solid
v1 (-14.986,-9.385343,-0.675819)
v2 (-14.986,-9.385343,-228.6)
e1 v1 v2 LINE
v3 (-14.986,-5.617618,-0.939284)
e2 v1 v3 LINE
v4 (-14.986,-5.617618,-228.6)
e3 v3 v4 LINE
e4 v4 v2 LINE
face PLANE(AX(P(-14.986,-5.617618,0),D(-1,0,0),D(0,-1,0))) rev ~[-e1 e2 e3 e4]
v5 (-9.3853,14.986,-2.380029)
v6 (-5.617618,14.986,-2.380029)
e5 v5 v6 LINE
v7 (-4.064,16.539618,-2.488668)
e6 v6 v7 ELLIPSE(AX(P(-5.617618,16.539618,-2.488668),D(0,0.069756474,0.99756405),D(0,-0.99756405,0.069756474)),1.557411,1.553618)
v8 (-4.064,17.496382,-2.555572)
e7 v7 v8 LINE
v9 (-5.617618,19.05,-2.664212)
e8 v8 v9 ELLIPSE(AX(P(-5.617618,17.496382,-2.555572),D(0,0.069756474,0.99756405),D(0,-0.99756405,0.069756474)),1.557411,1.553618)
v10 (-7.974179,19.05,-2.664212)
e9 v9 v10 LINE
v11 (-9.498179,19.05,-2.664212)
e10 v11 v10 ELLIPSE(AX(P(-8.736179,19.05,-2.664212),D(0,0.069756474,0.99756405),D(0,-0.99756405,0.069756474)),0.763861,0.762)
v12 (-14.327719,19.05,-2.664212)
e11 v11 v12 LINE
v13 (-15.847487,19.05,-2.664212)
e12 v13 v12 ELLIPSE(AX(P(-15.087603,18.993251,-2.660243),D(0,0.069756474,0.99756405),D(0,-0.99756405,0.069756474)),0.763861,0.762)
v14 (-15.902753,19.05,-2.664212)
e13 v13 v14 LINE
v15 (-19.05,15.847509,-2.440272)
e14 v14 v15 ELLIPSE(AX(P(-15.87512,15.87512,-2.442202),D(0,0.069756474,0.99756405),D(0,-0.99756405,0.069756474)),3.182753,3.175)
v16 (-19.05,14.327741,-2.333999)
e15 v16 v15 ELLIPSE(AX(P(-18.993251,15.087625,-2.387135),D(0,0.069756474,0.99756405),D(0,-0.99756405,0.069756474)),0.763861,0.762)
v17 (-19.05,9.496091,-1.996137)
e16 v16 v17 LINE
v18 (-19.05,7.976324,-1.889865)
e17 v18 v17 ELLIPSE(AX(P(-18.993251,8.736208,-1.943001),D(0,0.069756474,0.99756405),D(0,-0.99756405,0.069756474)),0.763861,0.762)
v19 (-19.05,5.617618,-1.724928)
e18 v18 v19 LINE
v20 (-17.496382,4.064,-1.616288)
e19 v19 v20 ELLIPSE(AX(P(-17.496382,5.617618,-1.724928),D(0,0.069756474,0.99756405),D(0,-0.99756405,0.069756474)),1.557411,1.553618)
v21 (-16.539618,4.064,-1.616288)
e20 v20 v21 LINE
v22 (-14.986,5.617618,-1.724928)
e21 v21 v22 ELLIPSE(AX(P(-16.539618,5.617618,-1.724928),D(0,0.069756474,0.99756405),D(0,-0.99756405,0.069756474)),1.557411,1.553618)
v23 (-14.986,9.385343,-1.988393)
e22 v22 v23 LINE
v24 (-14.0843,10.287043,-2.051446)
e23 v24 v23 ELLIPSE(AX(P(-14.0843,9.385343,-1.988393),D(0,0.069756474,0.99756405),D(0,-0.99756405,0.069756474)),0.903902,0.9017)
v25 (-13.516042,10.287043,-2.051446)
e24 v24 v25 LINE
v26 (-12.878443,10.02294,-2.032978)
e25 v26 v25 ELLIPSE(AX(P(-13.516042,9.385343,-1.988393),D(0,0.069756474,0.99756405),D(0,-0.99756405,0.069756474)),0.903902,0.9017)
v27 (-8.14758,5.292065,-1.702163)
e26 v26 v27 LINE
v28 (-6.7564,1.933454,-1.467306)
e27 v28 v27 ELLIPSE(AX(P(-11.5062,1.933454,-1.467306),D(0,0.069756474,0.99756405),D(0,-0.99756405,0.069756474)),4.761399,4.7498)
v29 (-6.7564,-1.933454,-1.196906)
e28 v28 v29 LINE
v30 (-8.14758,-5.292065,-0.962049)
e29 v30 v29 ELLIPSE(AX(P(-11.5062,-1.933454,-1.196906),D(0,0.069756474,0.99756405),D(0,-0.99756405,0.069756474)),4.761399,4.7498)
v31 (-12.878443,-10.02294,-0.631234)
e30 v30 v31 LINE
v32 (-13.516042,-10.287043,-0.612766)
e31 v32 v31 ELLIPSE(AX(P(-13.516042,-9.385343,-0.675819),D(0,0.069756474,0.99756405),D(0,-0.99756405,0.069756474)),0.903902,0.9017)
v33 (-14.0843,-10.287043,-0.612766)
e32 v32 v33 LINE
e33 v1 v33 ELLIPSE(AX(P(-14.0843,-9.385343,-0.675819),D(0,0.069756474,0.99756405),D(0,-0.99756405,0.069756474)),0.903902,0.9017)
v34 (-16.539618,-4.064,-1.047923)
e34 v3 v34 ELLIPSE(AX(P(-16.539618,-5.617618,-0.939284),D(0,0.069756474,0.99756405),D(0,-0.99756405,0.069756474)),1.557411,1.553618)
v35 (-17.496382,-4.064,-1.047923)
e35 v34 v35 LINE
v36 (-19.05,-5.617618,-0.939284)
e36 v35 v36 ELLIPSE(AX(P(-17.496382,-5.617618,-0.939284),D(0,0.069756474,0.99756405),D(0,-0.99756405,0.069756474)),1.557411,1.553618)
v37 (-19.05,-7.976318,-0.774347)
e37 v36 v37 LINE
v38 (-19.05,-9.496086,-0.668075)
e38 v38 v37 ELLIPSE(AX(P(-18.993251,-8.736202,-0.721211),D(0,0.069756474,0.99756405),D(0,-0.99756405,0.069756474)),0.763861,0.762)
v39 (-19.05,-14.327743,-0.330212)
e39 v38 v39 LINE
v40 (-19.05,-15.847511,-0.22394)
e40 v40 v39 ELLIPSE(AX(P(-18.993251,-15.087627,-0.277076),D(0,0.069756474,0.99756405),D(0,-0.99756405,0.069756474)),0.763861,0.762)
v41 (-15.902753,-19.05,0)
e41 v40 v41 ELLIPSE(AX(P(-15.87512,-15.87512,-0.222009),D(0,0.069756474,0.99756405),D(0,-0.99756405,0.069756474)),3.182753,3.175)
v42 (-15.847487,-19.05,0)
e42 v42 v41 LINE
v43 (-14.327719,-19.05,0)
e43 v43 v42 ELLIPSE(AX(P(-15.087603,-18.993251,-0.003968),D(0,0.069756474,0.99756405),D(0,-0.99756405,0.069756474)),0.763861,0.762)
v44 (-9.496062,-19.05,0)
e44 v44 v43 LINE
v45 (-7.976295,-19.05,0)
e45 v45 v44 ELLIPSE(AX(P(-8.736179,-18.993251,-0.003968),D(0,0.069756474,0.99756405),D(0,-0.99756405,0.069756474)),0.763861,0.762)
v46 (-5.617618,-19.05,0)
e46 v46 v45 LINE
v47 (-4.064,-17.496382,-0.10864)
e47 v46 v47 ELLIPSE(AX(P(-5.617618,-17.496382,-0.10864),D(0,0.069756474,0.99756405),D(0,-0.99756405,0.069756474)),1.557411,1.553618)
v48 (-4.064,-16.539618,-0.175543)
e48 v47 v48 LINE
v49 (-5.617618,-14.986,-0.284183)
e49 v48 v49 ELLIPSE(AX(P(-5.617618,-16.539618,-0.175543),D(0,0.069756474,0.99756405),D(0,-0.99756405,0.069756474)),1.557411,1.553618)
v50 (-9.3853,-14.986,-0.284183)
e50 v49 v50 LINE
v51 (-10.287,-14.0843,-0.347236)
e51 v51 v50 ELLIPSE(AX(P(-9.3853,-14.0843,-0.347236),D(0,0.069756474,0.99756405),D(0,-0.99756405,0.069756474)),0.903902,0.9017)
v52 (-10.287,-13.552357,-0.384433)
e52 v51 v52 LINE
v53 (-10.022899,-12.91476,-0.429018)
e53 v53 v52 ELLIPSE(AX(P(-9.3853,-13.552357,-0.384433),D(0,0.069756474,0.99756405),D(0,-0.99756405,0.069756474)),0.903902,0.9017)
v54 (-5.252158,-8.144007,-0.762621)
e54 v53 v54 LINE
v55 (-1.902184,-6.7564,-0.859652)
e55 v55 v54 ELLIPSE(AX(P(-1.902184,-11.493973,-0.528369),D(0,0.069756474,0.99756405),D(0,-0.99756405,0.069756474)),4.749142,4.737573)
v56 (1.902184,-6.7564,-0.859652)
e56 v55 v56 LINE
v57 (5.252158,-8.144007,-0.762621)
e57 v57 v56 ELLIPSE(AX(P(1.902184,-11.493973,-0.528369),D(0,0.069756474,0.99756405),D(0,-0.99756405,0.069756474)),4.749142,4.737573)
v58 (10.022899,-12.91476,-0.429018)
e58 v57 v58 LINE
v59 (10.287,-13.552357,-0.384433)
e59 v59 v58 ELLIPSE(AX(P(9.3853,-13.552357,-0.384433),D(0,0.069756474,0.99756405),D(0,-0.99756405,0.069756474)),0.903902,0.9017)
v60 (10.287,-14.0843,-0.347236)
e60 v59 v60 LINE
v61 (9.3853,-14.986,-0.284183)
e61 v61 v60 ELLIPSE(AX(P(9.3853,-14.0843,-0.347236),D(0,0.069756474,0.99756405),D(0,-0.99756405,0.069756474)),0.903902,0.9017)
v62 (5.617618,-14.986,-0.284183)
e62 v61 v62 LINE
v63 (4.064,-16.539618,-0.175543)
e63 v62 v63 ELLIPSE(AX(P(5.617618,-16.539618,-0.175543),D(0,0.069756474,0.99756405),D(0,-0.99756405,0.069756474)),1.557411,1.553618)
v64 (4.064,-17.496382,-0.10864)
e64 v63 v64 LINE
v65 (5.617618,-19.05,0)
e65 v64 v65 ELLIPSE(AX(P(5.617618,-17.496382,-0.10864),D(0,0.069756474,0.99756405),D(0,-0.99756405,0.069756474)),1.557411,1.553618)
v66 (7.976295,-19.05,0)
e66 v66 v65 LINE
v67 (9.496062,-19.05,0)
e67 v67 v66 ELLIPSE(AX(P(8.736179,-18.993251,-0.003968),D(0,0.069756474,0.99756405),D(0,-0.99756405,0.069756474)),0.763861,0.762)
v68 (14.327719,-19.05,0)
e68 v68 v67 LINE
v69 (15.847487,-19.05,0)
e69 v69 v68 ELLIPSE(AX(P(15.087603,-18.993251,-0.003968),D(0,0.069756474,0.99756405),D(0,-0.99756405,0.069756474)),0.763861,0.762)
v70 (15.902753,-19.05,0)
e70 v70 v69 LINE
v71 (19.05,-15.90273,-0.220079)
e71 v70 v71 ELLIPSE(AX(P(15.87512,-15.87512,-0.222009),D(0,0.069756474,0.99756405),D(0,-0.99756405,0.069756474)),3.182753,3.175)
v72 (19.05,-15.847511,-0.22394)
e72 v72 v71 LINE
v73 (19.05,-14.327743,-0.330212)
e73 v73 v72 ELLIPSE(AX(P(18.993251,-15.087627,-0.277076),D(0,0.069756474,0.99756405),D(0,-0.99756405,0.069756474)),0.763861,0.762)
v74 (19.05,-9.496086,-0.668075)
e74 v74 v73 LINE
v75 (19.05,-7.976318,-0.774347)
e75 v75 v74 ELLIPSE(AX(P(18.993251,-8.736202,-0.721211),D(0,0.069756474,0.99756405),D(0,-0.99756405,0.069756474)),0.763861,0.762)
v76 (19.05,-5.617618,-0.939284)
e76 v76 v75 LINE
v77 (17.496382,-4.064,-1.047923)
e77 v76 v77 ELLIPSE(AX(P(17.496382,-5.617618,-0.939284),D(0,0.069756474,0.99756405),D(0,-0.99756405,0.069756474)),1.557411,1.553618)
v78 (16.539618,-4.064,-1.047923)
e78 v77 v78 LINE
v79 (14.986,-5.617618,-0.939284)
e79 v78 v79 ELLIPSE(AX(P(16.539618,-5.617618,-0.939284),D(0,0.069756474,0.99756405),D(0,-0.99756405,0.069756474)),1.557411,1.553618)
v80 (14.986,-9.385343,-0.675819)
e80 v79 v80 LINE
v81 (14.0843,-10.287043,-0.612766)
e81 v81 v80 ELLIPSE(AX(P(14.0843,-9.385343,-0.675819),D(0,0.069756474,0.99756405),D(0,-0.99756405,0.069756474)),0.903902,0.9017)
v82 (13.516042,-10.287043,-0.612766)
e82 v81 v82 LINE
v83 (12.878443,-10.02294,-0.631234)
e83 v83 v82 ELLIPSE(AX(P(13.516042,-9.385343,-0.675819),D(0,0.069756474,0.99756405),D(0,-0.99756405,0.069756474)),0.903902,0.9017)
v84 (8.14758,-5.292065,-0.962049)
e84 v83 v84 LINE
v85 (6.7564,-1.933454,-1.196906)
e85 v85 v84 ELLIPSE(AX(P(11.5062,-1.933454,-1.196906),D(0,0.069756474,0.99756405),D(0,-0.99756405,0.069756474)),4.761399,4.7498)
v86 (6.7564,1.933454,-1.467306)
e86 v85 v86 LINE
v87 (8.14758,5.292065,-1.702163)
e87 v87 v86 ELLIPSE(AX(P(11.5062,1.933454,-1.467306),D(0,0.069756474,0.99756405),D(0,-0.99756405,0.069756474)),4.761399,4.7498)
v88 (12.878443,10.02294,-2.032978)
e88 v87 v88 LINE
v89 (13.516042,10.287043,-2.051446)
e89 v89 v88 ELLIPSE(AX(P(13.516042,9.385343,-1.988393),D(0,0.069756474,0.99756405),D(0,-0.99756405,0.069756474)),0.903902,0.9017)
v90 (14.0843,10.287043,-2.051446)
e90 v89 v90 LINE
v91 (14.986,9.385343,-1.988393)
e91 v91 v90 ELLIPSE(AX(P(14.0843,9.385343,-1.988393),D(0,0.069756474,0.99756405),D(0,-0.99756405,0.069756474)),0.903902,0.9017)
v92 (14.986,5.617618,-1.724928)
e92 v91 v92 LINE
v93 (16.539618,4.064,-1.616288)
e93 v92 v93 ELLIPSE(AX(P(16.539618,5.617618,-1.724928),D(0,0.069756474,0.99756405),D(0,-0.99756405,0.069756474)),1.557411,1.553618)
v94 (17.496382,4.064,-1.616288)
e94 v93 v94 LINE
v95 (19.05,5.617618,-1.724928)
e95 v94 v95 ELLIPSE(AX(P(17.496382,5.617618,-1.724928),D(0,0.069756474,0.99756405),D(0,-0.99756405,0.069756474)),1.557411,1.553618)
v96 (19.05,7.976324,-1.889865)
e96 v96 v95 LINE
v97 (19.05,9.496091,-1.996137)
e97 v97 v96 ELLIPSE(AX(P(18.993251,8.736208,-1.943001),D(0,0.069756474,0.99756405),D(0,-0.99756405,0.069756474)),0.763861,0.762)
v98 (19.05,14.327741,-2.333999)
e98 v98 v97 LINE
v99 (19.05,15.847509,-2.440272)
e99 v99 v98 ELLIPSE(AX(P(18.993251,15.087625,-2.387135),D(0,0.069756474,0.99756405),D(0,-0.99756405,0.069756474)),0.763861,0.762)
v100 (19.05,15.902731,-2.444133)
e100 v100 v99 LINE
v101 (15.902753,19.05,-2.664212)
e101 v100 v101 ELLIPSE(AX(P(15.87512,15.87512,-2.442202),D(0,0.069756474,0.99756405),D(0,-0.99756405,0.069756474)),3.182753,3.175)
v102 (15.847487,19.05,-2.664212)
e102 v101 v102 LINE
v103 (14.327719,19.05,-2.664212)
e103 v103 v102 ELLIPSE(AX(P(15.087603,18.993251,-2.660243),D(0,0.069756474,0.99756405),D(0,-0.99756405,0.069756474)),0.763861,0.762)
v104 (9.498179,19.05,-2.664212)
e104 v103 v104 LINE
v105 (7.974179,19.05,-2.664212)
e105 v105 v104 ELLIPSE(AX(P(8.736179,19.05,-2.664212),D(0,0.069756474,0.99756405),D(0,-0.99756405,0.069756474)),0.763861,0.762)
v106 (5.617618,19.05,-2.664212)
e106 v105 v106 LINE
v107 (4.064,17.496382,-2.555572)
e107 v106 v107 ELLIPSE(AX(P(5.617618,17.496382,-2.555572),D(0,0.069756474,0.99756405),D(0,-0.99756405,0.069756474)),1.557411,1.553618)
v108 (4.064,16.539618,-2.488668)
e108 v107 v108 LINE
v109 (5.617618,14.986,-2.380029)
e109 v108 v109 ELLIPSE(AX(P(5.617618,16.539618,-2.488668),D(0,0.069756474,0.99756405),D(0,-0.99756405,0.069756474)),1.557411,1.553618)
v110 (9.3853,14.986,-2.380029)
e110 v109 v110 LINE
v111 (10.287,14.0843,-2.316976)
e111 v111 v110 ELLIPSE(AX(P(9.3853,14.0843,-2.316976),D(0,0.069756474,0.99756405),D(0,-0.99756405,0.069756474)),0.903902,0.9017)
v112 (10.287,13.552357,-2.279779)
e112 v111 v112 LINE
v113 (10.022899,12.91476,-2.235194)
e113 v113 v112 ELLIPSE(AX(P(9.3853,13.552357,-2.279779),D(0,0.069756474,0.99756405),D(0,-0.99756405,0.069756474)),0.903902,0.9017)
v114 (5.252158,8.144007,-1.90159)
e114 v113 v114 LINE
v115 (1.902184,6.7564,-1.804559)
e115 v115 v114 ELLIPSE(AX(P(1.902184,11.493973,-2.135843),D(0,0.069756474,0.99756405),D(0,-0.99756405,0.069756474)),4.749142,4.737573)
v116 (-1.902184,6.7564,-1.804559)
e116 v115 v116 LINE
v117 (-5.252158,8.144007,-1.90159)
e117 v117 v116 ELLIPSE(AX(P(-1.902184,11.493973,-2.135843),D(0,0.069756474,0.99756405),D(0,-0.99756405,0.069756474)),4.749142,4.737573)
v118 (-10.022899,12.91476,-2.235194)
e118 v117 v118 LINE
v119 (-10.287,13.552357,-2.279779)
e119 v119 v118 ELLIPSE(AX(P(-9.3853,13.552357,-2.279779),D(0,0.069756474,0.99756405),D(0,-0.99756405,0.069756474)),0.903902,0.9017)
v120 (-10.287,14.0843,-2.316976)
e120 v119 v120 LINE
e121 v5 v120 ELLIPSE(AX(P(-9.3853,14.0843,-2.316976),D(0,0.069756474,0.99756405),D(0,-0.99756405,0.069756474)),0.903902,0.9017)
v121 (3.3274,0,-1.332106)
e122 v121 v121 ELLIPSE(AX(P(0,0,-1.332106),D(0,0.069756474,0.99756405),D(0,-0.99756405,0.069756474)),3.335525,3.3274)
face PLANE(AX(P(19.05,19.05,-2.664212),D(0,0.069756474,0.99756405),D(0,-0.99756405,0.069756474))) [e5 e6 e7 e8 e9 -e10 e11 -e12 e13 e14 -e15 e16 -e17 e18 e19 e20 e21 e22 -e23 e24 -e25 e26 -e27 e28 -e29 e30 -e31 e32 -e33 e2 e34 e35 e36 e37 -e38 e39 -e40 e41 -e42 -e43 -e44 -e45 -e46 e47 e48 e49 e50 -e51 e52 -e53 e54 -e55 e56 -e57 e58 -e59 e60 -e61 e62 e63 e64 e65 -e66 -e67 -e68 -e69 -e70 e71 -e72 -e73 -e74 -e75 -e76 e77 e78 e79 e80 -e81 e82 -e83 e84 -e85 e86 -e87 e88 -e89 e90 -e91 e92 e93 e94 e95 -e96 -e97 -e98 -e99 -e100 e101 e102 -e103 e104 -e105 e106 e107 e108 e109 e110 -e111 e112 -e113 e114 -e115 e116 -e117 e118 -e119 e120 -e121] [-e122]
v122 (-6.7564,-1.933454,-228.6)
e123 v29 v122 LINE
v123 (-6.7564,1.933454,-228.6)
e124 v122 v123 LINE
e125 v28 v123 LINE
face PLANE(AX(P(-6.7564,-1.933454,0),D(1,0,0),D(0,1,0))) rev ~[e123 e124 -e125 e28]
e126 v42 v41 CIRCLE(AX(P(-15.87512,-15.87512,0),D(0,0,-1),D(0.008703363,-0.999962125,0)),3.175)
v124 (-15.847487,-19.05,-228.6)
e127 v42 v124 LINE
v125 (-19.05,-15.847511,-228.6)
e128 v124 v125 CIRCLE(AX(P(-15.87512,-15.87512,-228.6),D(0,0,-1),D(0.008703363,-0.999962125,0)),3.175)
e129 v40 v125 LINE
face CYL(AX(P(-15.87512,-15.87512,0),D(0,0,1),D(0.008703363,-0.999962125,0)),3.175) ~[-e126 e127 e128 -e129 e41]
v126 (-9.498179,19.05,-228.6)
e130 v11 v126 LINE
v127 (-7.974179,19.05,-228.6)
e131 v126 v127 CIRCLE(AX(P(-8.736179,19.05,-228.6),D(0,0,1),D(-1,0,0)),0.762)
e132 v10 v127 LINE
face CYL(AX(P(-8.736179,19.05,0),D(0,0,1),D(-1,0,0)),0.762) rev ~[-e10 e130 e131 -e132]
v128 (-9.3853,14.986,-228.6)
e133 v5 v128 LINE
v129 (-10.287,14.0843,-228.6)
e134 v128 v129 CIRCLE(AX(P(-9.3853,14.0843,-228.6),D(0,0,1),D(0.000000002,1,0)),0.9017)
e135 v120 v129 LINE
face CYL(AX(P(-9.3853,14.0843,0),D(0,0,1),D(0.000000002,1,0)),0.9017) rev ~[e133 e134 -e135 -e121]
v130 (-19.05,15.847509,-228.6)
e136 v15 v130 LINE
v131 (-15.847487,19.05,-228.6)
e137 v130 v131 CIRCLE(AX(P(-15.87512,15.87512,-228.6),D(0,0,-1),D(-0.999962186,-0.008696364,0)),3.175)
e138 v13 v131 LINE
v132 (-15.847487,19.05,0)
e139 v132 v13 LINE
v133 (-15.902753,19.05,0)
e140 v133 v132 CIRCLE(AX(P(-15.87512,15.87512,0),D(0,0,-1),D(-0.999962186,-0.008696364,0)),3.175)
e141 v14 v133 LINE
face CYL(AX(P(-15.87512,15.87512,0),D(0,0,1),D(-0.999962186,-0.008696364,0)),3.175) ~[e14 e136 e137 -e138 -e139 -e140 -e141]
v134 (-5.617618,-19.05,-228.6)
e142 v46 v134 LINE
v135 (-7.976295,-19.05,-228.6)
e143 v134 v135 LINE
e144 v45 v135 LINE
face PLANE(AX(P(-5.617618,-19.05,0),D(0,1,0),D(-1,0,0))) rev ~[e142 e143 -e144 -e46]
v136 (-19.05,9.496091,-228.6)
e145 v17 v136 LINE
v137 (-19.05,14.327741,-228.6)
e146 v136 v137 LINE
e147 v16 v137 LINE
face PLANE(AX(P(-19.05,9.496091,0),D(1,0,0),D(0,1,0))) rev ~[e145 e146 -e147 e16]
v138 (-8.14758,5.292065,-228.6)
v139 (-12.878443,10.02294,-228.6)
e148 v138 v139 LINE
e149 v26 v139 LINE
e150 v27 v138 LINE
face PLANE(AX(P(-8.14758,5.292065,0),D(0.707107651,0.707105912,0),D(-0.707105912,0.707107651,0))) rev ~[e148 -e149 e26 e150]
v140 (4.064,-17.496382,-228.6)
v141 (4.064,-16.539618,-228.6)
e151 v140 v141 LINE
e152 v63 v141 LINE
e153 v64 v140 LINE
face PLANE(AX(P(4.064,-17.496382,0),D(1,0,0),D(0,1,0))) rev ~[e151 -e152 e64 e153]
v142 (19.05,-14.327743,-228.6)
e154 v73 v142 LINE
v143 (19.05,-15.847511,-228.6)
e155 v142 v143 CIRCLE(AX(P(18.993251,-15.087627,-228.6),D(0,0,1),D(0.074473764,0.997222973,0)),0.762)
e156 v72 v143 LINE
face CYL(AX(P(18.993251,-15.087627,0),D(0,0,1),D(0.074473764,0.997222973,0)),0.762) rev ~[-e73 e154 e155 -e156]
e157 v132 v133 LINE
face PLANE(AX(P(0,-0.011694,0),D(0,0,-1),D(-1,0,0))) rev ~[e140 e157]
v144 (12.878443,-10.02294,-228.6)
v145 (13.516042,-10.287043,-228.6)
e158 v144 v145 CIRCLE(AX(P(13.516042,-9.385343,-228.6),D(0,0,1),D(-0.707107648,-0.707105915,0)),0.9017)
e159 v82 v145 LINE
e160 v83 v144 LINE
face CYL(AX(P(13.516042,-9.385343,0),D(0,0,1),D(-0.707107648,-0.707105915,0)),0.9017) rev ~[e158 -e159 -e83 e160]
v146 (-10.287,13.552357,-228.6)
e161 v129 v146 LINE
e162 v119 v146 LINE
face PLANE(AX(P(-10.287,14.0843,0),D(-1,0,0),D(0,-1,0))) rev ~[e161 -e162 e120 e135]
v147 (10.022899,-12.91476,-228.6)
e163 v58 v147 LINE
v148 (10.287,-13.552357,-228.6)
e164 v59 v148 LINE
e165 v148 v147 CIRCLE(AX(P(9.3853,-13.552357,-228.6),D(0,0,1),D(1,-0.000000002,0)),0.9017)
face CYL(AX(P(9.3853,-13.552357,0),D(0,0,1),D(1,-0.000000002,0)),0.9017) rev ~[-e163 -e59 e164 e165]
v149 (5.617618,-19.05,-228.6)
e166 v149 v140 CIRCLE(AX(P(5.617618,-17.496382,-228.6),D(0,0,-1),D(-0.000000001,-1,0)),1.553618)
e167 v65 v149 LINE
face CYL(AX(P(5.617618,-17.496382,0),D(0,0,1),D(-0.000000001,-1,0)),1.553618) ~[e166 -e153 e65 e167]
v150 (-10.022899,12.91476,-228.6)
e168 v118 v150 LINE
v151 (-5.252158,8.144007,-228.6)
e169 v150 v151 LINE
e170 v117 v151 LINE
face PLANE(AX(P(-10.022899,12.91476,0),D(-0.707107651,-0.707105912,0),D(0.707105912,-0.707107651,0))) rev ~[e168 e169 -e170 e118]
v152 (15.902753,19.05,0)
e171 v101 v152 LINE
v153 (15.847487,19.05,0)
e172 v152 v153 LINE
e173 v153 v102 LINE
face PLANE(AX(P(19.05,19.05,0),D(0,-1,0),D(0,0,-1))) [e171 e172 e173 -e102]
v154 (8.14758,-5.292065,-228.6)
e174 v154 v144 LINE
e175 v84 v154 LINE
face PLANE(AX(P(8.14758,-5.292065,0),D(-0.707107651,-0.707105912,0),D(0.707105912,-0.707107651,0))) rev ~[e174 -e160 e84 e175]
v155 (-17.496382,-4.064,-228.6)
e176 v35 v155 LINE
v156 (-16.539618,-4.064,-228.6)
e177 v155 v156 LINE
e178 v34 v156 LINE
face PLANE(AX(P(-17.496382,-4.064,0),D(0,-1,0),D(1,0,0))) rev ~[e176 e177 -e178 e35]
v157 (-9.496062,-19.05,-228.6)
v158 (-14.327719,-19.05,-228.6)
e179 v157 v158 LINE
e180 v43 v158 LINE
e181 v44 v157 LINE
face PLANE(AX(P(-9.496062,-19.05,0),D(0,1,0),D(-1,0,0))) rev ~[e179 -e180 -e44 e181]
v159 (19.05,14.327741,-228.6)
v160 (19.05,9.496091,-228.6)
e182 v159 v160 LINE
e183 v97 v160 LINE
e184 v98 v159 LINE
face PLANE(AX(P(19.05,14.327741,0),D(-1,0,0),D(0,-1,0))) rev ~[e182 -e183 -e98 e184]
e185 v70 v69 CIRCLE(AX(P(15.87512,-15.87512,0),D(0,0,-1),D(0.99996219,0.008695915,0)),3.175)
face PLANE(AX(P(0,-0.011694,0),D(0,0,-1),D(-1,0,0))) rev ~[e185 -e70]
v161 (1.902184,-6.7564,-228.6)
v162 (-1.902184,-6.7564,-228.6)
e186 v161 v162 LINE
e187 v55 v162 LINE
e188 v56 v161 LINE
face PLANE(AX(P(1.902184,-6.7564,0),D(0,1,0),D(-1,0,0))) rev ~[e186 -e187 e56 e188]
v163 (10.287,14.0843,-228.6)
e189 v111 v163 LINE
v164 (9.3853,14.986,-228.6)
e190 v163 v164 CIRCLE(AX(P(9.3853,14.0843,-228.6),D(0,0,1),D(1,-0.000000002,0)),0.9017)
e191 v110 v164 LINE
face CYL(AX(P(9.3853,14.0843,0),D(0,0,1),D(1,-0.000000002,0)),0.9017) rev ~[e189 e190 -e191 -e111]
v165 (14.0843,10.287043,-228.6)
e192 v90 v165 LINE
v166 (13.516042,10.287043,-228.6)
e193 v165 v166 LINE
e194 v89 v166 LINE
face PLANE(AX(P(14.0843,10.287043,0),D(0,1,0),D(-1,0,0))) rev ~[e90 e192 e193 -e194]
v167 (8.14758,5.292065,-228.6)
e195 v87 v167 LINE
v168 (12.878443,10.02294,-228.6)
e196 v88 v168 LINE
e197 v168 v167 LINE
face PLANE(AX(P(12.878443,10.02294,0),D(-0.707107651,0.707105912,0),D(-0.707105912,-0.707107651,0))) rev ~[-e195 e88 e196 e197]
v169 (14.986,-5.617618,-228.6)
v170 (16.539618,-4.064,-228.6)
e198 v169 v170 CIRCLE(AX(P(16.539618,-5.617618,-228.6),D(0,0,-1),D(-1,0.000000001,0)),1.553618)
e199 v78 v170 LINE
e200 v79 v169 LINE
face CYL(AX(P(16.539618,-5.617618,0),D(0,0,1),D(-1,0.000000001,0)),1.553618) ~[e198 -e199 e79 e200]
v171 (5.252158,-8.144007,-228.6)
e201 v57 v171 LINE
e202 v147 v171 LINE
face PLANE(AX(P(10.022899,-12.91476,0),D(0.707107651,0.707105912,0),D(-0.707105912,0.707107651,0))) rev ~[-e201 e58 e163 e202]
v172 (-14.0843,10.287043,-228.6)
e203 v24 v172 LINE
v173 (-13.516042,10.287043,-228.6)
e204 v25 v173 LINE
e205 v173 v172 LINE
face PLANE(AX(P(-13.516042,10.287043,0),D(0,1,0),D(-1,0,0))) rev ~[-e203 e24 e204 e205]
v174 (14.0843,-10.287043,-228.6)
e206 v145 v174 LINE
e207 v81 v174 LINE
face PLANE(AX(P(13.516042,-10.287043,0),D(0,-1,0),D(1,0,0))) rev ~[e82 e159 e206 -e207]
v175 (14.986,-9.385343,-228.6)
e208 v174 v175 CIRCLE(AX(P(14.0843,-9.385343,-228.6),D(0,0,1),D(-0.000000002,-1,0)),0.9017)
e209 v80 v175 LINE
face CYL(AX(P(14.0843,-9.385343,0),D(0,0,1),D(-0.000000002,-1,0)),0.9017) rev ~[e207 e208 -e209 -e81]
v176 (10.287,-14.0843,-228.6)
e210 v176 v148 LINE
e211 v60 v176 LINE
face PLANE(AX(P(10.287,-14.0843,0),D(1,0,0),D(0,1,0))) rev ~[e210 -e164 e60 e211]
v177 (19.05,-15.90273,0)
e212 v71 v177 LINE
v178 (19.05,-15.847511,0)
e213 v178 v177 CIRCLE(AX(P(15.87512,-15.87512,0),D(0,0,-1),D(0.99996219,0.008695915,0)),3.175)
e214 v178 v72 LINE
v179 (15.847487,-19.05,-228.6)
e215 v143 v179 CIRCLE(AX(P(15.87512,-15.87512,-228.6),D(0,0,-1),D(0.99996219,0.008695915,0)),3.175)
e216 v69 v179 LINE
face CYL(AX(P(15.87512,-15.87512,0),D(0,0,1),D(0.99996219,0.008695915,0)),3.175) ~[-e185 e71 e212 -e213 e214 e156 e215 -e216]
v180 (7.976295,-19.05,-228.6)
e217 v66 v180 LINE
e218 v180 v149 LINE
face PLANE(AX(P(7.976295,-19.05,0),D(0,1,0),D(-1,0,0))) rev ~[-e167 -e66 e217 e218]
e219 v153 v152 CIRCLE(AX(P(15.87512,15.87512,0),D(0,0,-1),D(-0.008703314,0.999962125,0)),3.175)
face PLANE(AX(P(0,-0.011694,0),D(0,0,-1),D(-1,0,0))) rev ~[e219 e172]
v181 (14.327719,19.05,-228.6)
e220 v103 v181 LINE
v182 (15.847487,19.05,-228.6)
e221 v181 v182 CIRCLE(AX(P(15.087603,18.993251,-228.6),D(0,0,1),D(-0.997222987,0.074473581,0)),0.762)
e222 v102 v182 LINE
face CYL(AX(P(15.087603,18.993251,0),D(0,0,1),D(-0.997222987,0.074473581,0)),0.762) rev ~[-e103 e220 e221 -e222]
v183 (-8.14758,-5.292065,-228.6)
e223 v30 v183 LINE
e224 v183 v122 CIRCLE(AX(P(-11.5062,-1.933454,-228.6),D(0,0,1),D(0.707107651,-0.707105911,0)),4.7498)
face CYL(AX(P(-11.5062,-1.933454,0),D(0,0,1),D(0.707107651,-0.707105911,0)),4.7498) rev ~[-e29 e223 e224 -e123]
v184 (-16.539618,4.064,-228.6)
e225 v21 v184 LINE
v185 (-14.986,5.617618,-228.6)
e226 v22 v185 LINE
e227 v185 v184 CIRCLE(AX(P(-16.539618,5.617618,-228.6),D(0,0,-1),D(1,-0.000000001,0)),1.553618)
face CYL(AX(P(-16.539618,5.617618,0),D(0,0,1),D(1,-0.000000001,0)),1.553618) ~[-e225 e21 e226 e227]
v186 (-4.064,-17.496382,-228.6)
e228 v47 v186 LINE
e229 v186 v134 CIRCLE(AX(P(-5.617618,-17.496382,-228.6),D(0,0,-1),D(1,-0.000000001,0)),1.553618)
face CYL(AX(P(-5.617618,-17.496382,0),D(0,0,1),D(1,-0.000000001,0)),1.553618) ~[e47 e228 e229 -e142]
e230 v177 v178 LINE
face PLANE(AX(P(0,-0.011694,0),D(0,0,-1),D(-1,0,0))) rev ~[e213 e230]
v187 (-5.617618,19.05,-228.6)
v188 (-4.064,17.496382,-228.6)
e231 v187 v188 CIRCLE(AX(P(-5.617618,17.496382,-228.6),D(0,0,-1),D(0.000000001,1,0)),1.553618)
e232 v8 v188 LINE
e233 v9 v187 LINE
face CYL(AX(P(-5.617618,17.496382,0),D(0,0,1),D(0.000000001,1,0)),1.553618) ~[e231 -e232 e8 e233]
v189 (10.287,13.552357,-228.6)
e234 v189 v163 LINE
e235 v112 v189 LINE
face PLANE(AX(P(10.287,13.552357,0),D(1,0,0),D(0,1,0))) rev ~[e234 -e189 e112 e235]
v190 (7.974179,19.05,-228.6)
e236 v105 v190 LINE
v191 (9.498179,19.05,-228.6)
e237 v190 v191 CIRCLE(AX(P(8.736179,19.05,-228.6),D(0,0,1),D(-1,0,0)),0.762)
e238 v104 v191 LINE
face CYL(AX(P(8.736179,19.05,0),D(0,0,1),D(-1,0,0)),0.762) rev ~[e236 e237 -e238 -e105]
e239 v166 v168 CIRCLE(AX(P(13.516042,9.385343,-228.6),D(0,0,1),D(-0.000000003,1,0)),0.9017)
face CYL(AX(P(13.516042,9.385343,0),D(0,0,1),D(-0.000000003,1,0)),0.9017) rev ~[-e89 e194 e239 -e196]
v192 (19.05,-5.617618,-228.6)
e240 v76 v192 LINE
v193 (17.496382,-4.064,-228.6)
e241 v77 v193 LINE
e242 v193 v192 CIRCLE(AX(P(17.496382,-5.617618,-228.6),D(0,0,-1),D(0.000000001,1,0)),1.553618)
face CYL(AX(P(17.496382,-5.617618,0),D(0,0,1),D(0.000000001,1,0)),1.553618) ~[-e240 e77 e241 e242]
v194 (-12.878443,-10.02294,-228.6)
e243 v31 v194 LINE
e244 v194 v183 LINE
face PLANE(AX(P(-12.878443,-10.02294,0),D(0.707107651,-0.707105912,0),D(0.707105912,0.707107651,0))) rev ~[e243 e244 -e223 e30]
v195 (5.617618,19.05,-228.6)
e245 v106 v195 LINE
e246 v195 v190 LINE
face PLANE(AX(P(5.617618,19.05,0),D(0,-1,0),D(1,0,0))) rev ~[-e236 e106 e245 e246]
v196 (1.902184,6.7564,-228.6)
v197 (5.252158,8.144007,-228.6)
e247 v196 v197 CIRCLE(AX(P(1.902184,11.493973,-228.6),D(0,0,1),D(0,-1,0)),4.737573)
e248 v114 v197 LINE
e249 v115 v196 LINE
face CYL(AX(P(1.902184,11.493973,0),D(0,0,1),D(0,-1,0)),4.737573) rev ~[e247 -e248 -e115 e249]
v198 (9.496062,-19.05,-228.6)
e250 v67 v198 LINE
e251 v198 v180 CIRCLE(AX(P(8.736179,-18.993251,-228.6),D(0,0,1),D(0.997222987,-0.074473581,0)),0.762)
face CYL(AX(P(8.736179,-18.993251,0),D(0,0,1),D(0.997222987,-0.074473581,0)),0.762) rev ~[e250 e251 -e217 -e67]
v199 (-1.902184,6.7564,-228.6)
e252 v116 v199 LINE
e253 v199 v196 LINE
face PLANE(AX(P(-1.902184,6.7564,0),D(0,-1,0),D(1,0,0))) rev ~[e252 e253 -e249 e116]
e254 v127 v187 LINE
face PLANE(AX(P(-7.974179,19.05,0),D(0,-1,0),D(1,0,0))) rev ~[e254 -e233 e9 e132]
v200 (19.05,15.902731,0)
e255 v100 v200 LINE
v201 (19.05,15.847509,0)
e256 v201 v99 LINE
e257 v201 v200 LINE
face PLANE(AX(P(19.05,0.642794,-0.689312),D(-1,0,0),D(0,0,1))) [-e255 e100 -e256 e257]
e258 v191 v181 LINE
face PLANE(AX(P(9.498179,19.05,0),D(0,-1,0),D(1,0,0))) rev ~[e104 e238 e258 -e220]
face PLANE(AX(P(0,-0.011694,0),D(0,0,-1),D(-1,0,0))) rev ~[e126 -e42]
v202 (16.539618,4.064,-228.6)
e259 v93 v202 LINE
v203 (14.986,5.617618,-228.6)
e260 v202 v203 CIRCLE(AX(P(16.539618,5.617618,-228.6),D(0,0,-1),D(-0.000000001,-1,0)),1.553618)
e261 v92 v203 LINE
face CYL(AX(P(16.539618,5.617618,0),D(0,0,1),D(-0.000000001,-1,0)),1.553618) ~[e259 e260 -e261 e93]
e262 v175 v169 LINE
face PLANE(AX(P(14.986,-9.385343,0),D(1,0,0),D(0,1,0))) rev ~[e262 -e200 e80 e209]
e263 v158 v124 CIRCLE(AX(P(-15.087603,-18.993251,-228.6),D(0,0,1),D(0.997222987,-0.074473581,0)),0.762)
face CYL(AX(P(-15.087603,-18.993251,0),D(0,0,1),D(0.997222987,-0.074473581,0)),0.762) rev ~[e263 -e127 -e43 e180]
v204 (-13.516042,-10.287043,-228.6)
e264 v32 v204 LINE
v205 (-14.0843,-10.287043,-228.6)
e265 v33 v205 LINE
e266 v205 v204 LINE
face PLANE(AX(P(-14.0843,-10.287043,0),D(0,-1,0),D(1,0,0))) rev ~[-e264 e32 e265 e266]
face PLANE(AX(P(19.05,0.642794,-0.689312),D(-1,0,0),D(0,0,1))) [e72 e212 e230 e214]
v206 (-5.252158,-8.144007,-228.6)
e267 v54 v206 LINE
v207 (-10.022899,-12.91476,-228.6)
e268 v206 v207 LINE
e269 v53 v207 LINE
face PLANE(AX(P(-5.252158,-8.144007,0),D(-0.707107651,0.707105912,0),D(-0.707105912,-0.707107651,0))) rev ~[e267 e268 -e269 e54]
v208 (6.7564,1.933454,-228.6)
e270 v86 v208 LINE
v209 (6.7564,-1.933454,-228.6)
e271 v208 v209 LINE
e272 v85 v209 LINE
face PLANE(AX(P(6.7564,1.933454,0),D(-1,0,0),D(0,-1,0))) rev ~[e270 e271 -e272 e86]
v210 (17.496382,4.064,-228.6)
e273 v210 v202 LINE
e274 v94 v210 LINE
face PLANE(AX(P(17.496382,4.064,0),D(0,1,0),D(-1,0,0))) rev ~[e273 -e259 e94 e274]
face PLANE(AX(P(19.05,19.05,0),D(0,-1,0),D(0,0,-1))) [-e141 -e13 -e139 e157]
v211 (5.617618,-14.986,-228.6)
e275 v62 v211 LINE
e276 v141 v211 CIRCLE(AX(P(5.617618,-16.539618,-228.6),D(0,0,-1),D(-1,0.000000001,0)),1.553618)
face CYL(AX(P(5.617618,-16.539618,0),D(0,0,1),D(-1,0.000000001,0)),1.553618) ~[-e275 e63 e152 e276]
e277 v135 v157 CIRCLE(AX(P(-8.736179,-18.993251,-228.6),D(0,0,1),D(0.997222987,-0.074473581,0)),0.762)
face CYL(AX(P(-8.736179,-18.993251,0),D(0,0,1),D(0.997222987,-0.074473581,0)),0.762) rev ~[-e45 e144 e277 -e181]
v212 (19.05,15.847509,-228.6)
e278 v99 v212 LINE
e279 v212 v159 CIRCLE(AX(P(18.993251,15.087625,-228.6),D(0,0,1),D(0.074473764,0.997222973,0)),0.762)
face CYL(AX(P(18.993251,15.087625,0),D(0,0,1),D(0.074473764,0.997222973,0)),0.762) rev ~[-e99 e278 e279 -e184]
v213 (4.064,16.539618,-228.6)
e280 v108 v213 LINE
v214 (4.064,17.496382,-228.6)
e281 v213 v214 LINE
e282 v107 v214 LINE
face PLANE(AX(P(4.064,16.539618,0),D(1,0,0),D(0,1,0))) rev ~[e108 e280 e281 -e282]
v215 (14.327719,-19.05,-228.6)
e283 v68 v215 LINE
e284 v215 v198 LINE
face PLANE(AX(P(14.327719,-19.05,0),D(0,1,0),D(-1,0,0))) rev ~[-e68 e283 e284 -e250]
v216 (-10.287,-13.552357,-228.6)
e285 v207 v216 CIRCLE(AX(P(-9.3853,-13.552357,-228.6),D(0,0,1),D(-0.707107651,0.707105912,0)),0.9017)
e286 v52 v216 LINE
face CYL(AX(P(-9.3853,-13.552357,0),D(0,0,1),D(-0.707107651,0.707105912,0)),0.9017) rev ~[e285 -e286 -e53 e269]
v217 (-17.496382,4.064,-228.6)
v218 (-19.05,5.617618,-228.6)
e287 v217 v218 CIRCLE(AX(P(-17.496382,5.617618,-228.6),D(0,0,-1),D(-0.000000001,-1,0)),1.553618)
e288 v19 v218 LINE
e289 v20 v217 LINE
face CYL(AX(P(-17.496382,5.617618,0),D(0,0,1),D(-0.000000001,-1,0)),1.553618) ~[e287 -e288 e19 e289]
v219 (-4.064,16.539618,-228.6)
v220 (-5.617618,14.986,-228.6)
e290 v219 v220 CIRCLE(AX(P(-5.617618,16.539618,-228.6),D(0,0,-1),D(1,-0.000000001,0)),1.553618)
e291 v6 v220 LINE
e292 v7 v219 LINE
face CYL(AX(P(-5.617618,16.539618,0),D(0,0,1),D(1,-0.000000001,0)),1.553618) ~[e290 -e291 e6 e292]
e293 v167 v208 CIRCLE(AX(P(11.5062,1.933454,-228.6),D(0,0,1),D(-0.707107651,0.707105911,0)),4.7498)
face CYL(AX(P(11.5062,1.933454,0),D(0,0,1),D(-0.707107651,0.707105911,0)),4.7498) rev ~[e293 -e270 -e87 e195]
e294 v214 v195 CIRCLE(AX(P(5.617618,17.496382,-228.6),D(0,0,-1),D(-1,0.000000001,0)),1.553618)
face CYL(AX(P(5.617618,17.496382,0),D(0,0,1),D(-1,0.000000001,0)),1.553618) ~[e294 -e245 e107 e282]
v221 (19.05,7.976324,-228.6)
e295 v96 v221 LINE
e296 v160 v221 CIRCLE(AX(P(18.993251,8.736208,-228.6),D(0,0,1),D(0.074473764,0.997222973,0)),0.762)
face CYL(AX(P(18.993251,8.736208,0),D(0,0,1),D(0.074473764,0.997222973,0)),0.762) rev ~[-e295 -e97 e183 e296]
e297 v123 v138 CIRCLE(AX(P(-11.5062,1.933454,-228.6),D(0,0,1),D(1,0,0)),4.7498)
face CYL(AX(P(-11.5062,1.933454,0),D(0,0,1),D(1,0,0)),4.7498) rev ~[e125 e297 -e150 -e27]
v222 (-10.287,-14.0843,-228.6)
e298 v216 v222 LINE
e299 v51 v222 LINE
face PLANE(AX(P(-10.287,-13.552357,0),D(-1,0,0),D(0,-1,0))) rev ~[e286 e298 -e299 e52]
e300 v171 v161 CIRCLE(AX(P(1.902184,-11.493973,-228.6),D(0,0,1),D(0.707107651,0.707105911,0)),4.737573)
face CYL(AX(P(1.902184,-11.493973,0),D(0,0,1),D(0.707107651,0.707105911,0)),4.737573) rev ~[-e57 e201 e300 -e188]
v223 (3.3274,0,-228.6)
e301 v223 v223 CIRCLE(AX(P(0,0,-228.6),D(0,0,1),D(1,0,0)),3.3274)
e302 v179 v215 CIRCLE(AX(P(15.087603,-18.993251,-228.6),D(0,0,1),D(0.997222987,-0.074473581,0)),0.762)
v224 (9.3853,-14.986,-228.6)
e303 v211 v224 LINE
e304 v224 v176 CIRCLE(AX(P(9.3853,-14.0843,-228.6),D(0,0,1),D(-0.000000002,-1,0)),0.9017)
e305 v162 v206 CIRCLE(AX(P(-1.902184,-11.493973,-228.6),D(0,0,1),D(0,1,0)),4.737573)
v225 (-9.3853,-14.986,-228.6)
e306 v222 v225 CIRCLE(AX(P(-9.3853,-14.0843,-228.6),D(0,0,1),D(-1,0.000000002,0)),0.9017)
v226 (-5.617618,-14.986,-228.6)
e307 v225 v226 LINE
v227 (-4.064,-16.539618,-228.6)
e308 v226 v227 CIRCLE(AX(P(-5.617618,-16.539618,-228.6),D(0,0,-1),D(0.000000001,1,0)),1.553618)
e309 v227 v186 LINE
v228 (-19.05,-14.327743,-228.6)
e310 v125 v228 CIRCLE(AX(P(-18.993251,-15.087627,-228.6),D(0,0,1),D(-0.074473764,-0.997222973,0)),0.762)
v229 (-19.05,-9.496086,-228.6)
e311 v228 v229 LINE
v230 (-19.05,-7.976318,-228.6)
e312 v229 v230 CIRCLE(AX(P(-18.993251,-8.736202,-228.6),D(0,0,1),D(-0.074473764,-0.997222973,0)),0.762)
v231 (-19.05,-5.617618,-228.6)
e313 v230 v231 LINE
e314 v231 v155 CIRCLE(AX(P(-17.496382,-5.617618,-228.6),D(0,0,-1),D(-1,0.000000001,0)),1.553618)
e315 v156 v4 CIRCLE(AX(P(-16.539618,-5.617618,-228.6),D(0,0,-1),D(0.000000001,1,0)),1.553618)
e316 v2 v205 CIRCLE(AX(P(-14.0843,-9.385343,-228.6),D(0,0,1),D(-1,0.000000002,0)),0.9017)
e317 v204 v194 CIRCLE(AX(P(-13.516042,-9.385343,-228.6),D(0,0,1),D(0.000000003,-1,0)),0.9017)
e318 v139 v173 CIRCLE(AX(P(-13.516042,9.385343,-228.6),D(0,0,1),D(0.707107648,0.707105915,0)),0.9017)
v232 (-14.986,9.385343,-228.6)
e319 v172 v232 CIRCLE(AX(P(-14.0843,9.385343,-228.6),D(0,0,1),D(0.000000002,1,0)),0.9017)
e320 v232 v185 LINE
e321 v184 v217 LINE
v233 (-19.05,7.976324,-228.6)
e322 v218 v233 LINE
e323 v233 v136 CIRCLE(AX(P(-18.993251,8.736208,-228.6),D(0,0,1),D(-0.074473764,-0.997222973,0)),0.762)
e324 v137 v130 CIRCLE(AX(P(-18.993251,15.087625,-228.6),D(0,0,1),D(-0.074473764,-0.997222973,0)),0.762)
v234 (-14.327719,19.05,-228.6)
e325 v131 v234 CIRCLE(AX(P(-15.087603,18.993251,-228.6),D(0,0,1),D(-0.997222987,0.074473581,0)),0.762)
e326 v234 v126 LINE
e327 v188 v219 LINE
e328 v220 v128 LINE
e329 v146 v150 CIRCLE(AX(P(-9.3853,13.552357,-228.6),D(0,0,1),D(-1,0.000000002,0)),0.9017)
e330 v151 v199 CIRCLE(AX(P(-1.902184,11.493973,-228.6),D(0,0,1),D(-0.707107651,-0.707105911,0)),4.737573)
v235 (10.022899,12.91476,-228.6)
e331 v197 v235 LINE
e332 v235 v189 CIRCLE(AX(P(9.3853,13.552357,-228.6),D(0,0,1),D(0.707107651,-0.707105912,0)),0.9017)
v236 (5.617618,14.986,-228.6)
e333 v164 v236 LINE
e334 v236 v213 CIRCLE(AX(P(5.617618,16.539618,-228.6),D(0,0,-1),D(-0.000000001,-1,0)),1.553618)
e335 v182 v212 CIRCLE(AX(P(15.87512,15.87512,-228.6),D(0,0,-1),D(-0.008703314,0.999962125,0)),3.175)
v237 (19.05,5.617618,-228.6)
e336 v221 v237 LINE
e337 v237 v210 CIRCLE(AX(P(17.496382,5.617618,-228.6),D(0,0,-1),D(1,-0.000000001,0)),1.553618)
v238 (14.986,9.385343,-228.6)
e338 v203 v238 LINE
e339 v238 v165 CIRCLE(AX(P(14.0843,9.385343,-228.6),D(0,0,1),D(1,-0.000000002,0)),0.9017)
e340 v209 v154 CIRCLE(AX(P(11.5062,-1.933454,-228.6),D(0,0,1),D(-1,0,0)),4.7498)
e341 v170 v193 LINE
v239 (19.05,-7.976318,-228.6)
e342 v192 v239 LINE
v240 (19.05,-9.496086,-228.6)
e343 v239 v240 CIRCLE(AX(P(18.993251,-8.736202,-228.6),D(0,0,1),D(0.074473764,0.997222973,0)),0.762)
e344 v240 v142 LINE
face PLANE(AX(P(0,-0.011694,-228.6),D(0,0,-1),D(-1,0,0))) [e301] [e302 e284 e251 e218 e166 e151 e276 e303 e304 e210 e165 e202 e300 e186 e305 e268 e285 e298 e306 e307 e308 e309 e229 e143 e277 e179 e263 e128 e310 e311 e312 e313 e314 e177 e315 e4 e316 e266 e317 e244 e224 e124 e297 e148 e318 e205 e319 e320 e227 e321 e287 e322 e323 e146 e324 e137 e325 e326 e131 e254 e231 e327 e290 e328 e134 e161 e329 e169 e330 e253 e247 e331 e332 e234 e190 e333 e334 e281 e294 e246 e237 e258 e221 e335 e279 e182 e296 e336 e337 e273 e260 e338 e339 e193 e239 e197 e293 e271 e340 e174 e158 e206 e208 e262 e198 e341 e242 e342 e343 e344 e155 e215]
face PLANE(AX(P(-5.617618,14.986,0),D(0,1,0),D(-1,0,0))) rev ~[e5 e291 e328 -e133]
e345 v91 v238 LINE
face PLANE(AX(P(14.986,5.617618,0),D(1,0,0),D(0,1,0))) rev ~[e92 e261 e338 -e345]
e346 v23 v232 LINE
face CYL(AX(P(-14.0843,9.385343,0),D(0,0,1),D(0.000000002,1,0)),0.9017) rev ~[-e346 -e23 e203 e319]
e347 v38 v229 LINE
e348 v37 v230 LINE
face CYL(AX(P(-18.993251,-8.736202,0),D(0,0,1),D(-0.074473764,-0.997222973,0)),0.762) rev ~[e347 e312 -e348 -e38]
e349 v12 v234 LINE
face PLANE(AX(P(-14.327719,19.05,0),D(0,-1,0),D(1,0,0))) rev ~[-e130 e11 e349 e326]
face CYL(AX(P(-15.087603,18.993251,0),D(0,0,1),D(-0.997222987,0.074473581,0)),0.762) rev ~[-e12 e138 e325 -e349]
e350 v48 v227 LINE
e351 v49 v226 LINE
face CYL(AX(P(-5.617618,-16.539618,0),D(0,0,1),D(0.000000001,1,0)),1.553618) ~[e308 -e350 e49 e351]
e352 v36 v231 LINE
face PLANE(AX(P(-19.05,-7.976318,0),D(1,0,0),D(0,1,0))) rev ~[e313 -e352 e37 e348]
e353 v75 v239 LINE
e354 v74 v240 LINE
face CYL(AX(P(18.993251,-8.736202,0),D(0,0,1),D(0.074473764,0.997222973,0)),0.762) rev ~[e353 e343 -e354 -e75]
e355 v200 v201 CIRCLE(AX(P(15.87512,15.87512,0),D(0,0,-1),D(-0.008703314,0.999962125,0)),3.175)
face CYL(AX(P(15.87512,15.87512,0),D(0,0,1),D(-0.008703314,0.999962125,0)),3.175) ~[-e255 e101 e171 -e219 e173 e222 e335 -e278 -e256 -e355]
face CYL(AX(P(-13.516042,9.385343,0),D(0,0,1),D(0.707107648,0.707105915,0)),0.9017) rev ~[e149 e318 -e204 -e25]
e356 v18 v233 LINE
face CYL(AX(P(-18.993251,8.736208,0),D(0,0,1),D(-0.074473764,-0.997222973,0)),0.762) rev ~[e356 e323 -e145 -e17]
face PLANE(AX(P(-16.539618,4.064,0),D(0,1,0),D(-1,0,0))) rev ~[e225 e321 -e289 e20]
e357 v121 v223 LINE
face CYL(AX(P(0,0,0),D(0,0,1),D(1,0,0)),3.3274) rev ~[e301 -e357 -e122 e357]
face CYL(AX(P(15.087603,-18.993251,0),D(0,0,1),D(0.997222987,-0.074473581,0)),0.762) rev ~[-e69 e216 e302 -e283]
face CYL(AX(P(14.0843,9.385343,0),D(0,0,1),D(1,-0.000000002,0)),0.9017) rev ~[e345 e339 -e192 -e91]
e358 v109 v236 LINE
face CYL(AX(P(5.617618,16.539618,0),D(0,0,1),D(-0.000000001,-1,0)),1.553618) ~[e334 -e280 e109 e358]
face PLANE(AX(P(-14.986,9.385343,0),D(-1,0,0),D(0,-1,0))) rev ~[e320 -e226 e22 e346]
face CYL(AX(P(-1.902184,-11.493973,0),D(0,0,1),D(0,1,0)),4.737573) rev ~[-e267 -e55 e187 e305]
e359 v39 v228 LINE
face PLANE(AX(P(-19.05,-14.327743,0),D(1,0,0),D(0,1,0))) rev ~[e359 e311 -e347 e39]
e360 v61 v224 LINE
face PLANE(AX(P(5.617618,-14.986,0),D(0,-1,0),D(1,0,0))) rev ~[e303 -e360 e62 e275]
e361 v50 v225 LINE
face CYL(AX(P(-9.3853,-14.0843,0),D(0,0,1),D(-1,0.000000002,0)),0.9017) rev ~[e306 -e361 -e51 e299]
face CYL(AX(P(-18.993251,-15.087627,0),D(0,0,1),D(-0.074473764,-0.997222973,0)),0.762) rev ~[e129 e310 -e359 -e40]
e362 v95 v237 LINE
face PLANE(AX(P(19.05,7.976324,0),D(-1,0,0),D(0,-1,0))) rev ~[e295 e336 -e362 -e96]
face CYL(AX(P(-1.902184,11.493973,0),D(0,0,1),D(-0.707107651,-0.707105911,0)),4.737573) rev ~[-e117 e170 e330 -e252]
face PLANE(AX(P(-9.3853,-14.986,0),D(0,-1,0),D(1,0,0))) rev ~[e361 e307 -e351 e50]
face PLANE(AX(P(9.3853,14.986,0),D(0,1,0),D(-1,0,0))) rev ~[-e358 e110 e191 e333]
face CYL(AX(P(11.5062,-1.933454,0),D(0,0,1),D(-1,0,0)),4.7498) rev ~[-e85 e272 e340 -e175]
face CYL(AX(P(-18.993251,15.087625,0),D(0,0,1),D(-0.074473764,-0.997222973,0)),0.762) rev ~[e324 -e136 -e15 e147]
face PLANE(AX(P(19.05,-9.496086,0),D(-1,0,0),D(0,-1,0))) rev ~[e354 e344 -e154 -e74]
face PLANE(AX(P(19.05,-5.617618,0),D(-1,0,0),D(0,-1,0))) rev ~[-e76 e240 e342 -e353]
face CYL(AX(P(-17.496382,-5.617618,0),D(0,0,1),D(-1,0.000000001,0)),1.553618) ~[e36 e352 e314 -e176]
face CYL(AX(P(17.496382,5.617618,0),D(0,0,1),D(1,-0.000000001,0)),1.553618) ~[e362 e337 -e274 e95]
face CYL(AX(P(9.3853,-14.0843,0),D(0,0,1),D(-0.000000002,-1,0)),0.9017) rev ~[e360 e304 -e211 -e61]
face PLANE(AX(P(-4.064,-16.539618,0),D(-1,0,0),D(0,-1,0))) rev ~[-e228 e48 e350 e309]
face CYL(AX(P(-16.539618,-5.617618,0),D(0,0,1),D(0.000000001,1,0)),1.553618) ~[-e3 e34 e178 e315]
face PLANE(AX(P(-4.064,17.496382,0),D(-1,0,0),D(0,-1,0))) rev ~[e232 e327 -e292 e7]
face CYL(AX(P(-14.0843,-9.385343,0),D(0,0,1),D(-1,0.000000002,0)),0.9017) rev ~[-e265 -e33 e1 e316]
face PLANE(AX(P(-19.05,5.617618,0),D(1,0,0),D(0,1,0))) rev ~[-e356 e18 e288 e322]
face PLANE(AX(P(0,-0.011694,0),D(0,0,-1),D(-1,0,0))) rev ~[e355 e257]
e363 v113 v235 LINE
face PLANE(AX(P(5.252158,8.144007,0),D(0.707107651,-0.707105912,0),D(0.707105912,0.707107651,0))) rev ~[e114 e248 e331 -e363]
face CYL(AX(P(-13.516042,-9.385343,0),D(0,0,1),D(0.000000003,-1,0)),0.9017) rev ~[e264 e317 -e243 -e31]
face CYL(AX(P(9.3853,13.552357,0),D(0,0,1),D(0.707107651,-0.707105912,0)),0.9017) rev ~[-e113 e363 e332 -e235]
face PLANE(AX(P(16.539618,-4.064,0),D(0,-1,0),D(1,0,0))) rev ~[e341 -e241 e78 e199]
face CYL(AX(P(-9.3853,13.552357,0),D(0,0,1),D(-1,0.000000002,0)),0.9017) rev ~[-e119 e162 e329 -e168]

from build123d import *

# Parameters (mm, degrees)
SKETCH1_R          = 3.3274
EXTRUDE1_DEPTH     = 228.6
CUT_EXTRUDE1_DEPTH = 127


with BuildPart() as part:
    # Sketch1 → Extrude1 (new body)
    with BuildSketch(Plane.XY):
        with BuildLine():
            Line((-10.022898969, 12.91475973), (-5.252158105, 8.144007132))
            ThreePointArc((-5.252158105, 8.144007132), (-3.715177372, 7.117027388), (-1.902183975, 6.7564))
            Line((-1.902183975, 6.7564), (1.902183975, 6.7564))
            ThreePointArc((1.902183975, 6.7564), (3.715177372, 7.117027388), (5.252158105, 8.144007132))
            Line((5.252158105, 8.144007132), (10.022898969, 12.91475973))
            ThreePointArc((10.022898969, 12.91475973), (10.218362387, 13.207291992), (10.287, 13.552357131))
            Line((10.287, 13.552357131), (10.287, 14.0843))
            ThreePointArc((10.287, 14.0843), (10.022898185, 14.721898185), (9.3853, 14.986))
            Line((9.3853, 14.986), (5.617617549, 14.986))
            ThreePointArc((5.617617549, 14.986), (4.519044045, 15.441044045), (4.064, 16.539617549))
            Line((4.064, 16.539617549), (4.064, 17.496382451))
            ThreePointArc((4.064, 17.496382451), (4.519044045, 18.594955955), (5.617617549, 19.05))
            Line((5.617617549, 19.05), (7.974178704, 19.05))
            ThreePointArc((7.974178704, 19.05), (8.736178704, 18.288), (9.498178704, 19.05))
            Line((9.498178704, 19.05), (14.327719207, 19.05))
            ThreePointArc((14.327719207, 19.05), (15.087603123, 18.231251131), (15.847487039, 19.05))
            ThreePointArc((15.847487039, 19.05), (18.120176289, 18.120192083), (19.05, 15.847509295))
            ThreePointArc((19.05, 15.847509295), (18.231250992, 15.08762539), (19.05, 14.327741484))
            Line((19.05, 14.327741484), (19.05, 9.496091471))
            ThreePointArc((19.05, 9.496091471), (18.231250992, 8.736207565), (19.05, 7.97632366))
            Line((19.05, 7.97632366), (19.05, 5.617617549))
            ThreePointArc((19.05, 5.617617549), (18.594955955, 4.519044045), (17.496382451, 4.064))
            Line((17.496382451, 4.064), (16.539617549, 4.064))
            ThreePointArc((16.539617549, 4.064), (15.441044045, 4.519044045), (14.986, 5.617617549))
            Line((14.986, 5.617617549), (14.986, 9.385342516))
            ThreePointArc((14.986, 9.385342516), (14.721898185, 10.022940701), (14.0843, 10.287042516))
            Line((14.0843, 10.287042516), (13.516042086, 10.287042516))
            ThreePointArc((13.516042086, 10.287042516), (13.170975923, 10.218404478), (12.878443117, 10.022939917))
            Line((12.878443117, 10.022939917), (8.14758008, 5.292065243))
            ThreePointArc((8.14758008, 5.292065243), (7.117955879, 3.751120653), (6.7564, 1.933453584))
            Line((6.7564, 1.933453584), (6.7564, -1.933453584))
            ThreePointArc((6.7564, -1.933453584), (7.117955879, -3.751120653), (8.14758008, -5.292065243))
            Line((8.14758008, -5.292065243), (12.878443117, -10.022939917))
            ThreePointArc((12.878443117, -10.022939917), (13.170975923, -10.218404478), (13.516042086, -10.287042516))
            Line((13.516042086, -10.287042516), (14.0843, -10.287042516))
            ThreePointArc((14.0843, -10.287042516), (14.721898185, -10.022940701), (14.986, -9.385342516))
            Line((14.986, -9.385342516), (14.986, -5.617617549))
            ThreePointArc((14.986, -5.617617549), (15.441044045, -4.519044045), (16.539617549, -4.064))
            Line((16.539617549, -4.064), (17.496382451, -4.064))
            ThreePointArc((17.496382451, -4.064), (18.594955955, -4.519044045), (19.05, -5.617617549))
            Line((19.05, -5.617617549), (19.05, -7.976318491))
            ThreePointArc((19.05, -7.976318491), (18.231250992, -8.736202396), (19.05, -9.496086302))
            Line((19.05, -9.496086302), (19.05, -14.32774291))
            ThreePointArc((19.05, -14.32774291), (18.231250992, -15.087626816), (19.05, -15.847510721))
            ThreePointArc((19.05, -15.847510721), (18.120175716, -18.120192644), (15.847486868, -19.05))
            ThreePointArc((15.847486868, -19.05), (15.087602952, -18.231251131), (14.327719036, -19.05))
            Line((14.327719036, -19.05), (9.496062448, -19.05))
            ThreePointArc((9.496062448, -19.05), (8.736178532, -18.231251131), (7.976294616, -19.05))
            Line((7.976294616, -19.05), (5.617617549, -19.05))
            ThreePointArc((5.617617549, -19.05), (4.519044045, -18.594955955), (4.064, -17.496382451))
            Line((4.064, -17.496382451), (4.064, -16.539617549))
            ThreePointArc((4.064, -16.539617549), (4.519044045, -15.441044045), (5.617617549, -14.986))
            Line((5.617617549, -14.986), (9.3853, -14.986))
            ThreePointArc((9.3853, -14.986), (10.022898185, -14.721898185), (10.287, -14.0843))
            Line((10.287, -14.0843), (10.287, -13.552357131))
            ThreePointArc((10.287, -13.552357131), (10.218362387, -13.207291992), (10.022898969, -12.91475973))
            Line((10.022898969, -12.91475973), (5.252158105, -8.144007132))
            ThreePointArc((5.252158105, -8.144007132), (3.715177372, -7.117027388), (1.902183975, -6.7564))
            Line((1.902183975, -6.7564), (-1.902183975, -6.7564))
            ThreePointArc((-1.902183975, -6.7564), (-3.715177372, -7.117027388), (-5.252158105, -8.144007132))
            Line((-5.252158105, -8.144007132), (-10.022898969, -12.91475973))
            ThreePointArc((-10.022898969, -12.91475973), (-10.218362387, -13.207291992), (-10.287, -13.552357131))
            Line((-10.287, -13.552357131), (-10.287, -14.0843))
            ThreePointArc((-10.287, -14.0843), (-10.022898185, -14.721898185), (-9.3853, -14.986))
            Line((-9.3853, -14.986), (-5.617617549, -14.986))
            ThreePointArc((-5.617617549, -14.986), (-4.519044045, -15.441044045), (-4.064, -16.539617549))
            Line((-4.064, -16.539617549), (-4.064, -17.496382451))
            ThreePointArc((-4.064, -17.496382451), (-4.519044045, -18.594955955), (-5.617617549, -19.05))
            Line((-5.617617549, -19.05), (-7.976294616, -19.05))
            ThreePointArc((-7.976294616, -19.05), (-8.736178532, -18.231251131), (-9.496062448, -19.05))
            Line((-9.496062448, -19.05), (-14.327719036, -19.05))
            ThreePointArc((-14.327719036, -19.05), (-15.087602952, -18.231251131), (-15.847486868, -19.05))
            ThreePointArc((-15.847486868, -19.05), (-18.120175716, -18.120192644), (-19.05, -15.847510721))
            ThreePointArc((-19.05, -15.847510721), (-18.231250992, -15.087626816), (-19.05, -14.32774291))
            Line((-19.05, -14.32774291), (-19.05, -9.496086302))
            ThreePointArc((-19.05, -9.496086302), (-18.231250992, -8.736202396), (-19.05, -7.976318491))
            Line((-19.05, -7.976318491), (-19.05, -5.617617549))
            ThreePointArc((-19.05, -5.617617549), (-18.594955955, -4.519044045), (-17.496382451, -4.064))
            Line((-17.496382451, -4.064), (-16.539617549, -4.064))
            ThreePointArc((-16.539617549, -4.064), (-15.441044045, -4.519044045), (-14.986, -5.617617549))
            Line((-14.986, -5.617617549), (-14.986, -9.385342516))
            ThreePointArc((-14.986, -9.385342516), (-14.721898185, -10.022940701), (-14.0843, -10.287042516))
            Line((-14.0843, -10.287042516), (-13.516042086, -10.287042516))
            ThreePointArc((-13.516042086, -10.287042516), (-13.170975923, -10.218404478), (-12.878443117, -10.022939917))
            Line((-12.878443117, -10.022939917), (-8.14758008, -5.292065243))
            ThreePointArc((-8.14758008, -5.292065243), (-7.117955879, -3.751120653), (-6.7564, -1.933453584))
            Line((-6.7564, -1.933453584), (-6.7564, 1.933453584))
            ThreePointArc((-6.7564, 1.933453584), (-7.117955879, 3.751120653), (-8.14758008, 5.292065243))
            Line((-8.14758008, 5.292065243), (-12.878443117, 10.022939917))
            ThreePointArc((-12.878443117, 10.022939917), (-13.170975923, 10.218404478), (-13.516042086, 10.287042516))
            Line((-13.516042086, 10.287042516), (-14.0843, 10.287042516))
            ThreePointArc((-14.0843, 10.287042516), (-14.721898185, 10.022940701), (-14.986, 9.385342516))
            Line((-14.986, 9.385342516), (-14.986, 5.617617549))
            ThreePointArc((-14.986, 5.617617549), (-15.441044045, 4.519044045), (-16.539617549, 4.064))
            Line((-16.539617549, 4.064), (-17.496382451, 4.064))
            ThreePointArc((-17.496382451, 4.064), (-18.594955955, 4.519044045), (-19.05, 5.617617549))
            Line((-19.05, 5.617617549), (-19.05, 7.97632366))
            ThreePointArc((-19.05, 7.97632366), (-18.231250992, 8.736207565), (-19.05, 9.496091471))
            Line((-19.05, 9.496091471), (-19.05, 14.327741484))
            ThreePointArc((-19.05, 14.327741484), (-18.231250992, 15.08762539), (-19.05, 15.847509295))
            ThreePointArc((-19.05, 15.847509295), (-18.120176289, 18.120192083), (-15.847487039, 19.05))
            ThreePointArc((-15.847487039, 19.05), (-15.087603123, 18.231251131), (-14.327719207, 19.05))
            Line((-14.327719207, 19.05), (-9.498178704, 19.05))
            ThreePointArc((-9.498178704, 19.05), (-8.736178704, 18.288), (-7.974178704, 19.05))
            Line((-7.974178704, 19.05), (-5.617617549, 19.05))
            ThreePointArc((-5.617617549, 19.05), (-4.519044045, 18.594955955), (-4.064, 17.496382451))
            Line((-4.064, 17.496382451), (-4.064, 16.539617549))
            ThreePointArc((-4.064, 16.539617549), (-4.519044045, 15.441044045), (-5.617617549, 14.986))
            Line((-5.617617549, 14.986), (-9.3853, 14.986))
            ThreePointArc((-9.3853, 14.986), (-10.022898185, 14.721898185), (-10.287, 14.0843))
            Line((-10.287, 14.0843), (-10.287, 13.552357131))
            ThreePointArc((-10.287, 13.552357131), (-10.218362387, 13.207291992), (-10.022898969, 12.91475973))
        make_face()
        Circle(SKETCH1_R, mode=Mode.SUBTRACT)
    extrude(amount=-EXTRUDE1_DEPTH)

    # Sketch2 → Cut-Extrude1 (cut)
    with BuildSketch(Plane(origin=(19.05, 0, 0), x_dir=(0, 0, -1), z_dir=(1, 0, 0))):
        Polygon((0, -19.05), (0, 19.05), (2.664211535, 19.05), align=None)
    extrude(amount=-CUT_EXTRUDE1_DEPTH, mode=Mode.SUBTRACT)


solid = part.part
